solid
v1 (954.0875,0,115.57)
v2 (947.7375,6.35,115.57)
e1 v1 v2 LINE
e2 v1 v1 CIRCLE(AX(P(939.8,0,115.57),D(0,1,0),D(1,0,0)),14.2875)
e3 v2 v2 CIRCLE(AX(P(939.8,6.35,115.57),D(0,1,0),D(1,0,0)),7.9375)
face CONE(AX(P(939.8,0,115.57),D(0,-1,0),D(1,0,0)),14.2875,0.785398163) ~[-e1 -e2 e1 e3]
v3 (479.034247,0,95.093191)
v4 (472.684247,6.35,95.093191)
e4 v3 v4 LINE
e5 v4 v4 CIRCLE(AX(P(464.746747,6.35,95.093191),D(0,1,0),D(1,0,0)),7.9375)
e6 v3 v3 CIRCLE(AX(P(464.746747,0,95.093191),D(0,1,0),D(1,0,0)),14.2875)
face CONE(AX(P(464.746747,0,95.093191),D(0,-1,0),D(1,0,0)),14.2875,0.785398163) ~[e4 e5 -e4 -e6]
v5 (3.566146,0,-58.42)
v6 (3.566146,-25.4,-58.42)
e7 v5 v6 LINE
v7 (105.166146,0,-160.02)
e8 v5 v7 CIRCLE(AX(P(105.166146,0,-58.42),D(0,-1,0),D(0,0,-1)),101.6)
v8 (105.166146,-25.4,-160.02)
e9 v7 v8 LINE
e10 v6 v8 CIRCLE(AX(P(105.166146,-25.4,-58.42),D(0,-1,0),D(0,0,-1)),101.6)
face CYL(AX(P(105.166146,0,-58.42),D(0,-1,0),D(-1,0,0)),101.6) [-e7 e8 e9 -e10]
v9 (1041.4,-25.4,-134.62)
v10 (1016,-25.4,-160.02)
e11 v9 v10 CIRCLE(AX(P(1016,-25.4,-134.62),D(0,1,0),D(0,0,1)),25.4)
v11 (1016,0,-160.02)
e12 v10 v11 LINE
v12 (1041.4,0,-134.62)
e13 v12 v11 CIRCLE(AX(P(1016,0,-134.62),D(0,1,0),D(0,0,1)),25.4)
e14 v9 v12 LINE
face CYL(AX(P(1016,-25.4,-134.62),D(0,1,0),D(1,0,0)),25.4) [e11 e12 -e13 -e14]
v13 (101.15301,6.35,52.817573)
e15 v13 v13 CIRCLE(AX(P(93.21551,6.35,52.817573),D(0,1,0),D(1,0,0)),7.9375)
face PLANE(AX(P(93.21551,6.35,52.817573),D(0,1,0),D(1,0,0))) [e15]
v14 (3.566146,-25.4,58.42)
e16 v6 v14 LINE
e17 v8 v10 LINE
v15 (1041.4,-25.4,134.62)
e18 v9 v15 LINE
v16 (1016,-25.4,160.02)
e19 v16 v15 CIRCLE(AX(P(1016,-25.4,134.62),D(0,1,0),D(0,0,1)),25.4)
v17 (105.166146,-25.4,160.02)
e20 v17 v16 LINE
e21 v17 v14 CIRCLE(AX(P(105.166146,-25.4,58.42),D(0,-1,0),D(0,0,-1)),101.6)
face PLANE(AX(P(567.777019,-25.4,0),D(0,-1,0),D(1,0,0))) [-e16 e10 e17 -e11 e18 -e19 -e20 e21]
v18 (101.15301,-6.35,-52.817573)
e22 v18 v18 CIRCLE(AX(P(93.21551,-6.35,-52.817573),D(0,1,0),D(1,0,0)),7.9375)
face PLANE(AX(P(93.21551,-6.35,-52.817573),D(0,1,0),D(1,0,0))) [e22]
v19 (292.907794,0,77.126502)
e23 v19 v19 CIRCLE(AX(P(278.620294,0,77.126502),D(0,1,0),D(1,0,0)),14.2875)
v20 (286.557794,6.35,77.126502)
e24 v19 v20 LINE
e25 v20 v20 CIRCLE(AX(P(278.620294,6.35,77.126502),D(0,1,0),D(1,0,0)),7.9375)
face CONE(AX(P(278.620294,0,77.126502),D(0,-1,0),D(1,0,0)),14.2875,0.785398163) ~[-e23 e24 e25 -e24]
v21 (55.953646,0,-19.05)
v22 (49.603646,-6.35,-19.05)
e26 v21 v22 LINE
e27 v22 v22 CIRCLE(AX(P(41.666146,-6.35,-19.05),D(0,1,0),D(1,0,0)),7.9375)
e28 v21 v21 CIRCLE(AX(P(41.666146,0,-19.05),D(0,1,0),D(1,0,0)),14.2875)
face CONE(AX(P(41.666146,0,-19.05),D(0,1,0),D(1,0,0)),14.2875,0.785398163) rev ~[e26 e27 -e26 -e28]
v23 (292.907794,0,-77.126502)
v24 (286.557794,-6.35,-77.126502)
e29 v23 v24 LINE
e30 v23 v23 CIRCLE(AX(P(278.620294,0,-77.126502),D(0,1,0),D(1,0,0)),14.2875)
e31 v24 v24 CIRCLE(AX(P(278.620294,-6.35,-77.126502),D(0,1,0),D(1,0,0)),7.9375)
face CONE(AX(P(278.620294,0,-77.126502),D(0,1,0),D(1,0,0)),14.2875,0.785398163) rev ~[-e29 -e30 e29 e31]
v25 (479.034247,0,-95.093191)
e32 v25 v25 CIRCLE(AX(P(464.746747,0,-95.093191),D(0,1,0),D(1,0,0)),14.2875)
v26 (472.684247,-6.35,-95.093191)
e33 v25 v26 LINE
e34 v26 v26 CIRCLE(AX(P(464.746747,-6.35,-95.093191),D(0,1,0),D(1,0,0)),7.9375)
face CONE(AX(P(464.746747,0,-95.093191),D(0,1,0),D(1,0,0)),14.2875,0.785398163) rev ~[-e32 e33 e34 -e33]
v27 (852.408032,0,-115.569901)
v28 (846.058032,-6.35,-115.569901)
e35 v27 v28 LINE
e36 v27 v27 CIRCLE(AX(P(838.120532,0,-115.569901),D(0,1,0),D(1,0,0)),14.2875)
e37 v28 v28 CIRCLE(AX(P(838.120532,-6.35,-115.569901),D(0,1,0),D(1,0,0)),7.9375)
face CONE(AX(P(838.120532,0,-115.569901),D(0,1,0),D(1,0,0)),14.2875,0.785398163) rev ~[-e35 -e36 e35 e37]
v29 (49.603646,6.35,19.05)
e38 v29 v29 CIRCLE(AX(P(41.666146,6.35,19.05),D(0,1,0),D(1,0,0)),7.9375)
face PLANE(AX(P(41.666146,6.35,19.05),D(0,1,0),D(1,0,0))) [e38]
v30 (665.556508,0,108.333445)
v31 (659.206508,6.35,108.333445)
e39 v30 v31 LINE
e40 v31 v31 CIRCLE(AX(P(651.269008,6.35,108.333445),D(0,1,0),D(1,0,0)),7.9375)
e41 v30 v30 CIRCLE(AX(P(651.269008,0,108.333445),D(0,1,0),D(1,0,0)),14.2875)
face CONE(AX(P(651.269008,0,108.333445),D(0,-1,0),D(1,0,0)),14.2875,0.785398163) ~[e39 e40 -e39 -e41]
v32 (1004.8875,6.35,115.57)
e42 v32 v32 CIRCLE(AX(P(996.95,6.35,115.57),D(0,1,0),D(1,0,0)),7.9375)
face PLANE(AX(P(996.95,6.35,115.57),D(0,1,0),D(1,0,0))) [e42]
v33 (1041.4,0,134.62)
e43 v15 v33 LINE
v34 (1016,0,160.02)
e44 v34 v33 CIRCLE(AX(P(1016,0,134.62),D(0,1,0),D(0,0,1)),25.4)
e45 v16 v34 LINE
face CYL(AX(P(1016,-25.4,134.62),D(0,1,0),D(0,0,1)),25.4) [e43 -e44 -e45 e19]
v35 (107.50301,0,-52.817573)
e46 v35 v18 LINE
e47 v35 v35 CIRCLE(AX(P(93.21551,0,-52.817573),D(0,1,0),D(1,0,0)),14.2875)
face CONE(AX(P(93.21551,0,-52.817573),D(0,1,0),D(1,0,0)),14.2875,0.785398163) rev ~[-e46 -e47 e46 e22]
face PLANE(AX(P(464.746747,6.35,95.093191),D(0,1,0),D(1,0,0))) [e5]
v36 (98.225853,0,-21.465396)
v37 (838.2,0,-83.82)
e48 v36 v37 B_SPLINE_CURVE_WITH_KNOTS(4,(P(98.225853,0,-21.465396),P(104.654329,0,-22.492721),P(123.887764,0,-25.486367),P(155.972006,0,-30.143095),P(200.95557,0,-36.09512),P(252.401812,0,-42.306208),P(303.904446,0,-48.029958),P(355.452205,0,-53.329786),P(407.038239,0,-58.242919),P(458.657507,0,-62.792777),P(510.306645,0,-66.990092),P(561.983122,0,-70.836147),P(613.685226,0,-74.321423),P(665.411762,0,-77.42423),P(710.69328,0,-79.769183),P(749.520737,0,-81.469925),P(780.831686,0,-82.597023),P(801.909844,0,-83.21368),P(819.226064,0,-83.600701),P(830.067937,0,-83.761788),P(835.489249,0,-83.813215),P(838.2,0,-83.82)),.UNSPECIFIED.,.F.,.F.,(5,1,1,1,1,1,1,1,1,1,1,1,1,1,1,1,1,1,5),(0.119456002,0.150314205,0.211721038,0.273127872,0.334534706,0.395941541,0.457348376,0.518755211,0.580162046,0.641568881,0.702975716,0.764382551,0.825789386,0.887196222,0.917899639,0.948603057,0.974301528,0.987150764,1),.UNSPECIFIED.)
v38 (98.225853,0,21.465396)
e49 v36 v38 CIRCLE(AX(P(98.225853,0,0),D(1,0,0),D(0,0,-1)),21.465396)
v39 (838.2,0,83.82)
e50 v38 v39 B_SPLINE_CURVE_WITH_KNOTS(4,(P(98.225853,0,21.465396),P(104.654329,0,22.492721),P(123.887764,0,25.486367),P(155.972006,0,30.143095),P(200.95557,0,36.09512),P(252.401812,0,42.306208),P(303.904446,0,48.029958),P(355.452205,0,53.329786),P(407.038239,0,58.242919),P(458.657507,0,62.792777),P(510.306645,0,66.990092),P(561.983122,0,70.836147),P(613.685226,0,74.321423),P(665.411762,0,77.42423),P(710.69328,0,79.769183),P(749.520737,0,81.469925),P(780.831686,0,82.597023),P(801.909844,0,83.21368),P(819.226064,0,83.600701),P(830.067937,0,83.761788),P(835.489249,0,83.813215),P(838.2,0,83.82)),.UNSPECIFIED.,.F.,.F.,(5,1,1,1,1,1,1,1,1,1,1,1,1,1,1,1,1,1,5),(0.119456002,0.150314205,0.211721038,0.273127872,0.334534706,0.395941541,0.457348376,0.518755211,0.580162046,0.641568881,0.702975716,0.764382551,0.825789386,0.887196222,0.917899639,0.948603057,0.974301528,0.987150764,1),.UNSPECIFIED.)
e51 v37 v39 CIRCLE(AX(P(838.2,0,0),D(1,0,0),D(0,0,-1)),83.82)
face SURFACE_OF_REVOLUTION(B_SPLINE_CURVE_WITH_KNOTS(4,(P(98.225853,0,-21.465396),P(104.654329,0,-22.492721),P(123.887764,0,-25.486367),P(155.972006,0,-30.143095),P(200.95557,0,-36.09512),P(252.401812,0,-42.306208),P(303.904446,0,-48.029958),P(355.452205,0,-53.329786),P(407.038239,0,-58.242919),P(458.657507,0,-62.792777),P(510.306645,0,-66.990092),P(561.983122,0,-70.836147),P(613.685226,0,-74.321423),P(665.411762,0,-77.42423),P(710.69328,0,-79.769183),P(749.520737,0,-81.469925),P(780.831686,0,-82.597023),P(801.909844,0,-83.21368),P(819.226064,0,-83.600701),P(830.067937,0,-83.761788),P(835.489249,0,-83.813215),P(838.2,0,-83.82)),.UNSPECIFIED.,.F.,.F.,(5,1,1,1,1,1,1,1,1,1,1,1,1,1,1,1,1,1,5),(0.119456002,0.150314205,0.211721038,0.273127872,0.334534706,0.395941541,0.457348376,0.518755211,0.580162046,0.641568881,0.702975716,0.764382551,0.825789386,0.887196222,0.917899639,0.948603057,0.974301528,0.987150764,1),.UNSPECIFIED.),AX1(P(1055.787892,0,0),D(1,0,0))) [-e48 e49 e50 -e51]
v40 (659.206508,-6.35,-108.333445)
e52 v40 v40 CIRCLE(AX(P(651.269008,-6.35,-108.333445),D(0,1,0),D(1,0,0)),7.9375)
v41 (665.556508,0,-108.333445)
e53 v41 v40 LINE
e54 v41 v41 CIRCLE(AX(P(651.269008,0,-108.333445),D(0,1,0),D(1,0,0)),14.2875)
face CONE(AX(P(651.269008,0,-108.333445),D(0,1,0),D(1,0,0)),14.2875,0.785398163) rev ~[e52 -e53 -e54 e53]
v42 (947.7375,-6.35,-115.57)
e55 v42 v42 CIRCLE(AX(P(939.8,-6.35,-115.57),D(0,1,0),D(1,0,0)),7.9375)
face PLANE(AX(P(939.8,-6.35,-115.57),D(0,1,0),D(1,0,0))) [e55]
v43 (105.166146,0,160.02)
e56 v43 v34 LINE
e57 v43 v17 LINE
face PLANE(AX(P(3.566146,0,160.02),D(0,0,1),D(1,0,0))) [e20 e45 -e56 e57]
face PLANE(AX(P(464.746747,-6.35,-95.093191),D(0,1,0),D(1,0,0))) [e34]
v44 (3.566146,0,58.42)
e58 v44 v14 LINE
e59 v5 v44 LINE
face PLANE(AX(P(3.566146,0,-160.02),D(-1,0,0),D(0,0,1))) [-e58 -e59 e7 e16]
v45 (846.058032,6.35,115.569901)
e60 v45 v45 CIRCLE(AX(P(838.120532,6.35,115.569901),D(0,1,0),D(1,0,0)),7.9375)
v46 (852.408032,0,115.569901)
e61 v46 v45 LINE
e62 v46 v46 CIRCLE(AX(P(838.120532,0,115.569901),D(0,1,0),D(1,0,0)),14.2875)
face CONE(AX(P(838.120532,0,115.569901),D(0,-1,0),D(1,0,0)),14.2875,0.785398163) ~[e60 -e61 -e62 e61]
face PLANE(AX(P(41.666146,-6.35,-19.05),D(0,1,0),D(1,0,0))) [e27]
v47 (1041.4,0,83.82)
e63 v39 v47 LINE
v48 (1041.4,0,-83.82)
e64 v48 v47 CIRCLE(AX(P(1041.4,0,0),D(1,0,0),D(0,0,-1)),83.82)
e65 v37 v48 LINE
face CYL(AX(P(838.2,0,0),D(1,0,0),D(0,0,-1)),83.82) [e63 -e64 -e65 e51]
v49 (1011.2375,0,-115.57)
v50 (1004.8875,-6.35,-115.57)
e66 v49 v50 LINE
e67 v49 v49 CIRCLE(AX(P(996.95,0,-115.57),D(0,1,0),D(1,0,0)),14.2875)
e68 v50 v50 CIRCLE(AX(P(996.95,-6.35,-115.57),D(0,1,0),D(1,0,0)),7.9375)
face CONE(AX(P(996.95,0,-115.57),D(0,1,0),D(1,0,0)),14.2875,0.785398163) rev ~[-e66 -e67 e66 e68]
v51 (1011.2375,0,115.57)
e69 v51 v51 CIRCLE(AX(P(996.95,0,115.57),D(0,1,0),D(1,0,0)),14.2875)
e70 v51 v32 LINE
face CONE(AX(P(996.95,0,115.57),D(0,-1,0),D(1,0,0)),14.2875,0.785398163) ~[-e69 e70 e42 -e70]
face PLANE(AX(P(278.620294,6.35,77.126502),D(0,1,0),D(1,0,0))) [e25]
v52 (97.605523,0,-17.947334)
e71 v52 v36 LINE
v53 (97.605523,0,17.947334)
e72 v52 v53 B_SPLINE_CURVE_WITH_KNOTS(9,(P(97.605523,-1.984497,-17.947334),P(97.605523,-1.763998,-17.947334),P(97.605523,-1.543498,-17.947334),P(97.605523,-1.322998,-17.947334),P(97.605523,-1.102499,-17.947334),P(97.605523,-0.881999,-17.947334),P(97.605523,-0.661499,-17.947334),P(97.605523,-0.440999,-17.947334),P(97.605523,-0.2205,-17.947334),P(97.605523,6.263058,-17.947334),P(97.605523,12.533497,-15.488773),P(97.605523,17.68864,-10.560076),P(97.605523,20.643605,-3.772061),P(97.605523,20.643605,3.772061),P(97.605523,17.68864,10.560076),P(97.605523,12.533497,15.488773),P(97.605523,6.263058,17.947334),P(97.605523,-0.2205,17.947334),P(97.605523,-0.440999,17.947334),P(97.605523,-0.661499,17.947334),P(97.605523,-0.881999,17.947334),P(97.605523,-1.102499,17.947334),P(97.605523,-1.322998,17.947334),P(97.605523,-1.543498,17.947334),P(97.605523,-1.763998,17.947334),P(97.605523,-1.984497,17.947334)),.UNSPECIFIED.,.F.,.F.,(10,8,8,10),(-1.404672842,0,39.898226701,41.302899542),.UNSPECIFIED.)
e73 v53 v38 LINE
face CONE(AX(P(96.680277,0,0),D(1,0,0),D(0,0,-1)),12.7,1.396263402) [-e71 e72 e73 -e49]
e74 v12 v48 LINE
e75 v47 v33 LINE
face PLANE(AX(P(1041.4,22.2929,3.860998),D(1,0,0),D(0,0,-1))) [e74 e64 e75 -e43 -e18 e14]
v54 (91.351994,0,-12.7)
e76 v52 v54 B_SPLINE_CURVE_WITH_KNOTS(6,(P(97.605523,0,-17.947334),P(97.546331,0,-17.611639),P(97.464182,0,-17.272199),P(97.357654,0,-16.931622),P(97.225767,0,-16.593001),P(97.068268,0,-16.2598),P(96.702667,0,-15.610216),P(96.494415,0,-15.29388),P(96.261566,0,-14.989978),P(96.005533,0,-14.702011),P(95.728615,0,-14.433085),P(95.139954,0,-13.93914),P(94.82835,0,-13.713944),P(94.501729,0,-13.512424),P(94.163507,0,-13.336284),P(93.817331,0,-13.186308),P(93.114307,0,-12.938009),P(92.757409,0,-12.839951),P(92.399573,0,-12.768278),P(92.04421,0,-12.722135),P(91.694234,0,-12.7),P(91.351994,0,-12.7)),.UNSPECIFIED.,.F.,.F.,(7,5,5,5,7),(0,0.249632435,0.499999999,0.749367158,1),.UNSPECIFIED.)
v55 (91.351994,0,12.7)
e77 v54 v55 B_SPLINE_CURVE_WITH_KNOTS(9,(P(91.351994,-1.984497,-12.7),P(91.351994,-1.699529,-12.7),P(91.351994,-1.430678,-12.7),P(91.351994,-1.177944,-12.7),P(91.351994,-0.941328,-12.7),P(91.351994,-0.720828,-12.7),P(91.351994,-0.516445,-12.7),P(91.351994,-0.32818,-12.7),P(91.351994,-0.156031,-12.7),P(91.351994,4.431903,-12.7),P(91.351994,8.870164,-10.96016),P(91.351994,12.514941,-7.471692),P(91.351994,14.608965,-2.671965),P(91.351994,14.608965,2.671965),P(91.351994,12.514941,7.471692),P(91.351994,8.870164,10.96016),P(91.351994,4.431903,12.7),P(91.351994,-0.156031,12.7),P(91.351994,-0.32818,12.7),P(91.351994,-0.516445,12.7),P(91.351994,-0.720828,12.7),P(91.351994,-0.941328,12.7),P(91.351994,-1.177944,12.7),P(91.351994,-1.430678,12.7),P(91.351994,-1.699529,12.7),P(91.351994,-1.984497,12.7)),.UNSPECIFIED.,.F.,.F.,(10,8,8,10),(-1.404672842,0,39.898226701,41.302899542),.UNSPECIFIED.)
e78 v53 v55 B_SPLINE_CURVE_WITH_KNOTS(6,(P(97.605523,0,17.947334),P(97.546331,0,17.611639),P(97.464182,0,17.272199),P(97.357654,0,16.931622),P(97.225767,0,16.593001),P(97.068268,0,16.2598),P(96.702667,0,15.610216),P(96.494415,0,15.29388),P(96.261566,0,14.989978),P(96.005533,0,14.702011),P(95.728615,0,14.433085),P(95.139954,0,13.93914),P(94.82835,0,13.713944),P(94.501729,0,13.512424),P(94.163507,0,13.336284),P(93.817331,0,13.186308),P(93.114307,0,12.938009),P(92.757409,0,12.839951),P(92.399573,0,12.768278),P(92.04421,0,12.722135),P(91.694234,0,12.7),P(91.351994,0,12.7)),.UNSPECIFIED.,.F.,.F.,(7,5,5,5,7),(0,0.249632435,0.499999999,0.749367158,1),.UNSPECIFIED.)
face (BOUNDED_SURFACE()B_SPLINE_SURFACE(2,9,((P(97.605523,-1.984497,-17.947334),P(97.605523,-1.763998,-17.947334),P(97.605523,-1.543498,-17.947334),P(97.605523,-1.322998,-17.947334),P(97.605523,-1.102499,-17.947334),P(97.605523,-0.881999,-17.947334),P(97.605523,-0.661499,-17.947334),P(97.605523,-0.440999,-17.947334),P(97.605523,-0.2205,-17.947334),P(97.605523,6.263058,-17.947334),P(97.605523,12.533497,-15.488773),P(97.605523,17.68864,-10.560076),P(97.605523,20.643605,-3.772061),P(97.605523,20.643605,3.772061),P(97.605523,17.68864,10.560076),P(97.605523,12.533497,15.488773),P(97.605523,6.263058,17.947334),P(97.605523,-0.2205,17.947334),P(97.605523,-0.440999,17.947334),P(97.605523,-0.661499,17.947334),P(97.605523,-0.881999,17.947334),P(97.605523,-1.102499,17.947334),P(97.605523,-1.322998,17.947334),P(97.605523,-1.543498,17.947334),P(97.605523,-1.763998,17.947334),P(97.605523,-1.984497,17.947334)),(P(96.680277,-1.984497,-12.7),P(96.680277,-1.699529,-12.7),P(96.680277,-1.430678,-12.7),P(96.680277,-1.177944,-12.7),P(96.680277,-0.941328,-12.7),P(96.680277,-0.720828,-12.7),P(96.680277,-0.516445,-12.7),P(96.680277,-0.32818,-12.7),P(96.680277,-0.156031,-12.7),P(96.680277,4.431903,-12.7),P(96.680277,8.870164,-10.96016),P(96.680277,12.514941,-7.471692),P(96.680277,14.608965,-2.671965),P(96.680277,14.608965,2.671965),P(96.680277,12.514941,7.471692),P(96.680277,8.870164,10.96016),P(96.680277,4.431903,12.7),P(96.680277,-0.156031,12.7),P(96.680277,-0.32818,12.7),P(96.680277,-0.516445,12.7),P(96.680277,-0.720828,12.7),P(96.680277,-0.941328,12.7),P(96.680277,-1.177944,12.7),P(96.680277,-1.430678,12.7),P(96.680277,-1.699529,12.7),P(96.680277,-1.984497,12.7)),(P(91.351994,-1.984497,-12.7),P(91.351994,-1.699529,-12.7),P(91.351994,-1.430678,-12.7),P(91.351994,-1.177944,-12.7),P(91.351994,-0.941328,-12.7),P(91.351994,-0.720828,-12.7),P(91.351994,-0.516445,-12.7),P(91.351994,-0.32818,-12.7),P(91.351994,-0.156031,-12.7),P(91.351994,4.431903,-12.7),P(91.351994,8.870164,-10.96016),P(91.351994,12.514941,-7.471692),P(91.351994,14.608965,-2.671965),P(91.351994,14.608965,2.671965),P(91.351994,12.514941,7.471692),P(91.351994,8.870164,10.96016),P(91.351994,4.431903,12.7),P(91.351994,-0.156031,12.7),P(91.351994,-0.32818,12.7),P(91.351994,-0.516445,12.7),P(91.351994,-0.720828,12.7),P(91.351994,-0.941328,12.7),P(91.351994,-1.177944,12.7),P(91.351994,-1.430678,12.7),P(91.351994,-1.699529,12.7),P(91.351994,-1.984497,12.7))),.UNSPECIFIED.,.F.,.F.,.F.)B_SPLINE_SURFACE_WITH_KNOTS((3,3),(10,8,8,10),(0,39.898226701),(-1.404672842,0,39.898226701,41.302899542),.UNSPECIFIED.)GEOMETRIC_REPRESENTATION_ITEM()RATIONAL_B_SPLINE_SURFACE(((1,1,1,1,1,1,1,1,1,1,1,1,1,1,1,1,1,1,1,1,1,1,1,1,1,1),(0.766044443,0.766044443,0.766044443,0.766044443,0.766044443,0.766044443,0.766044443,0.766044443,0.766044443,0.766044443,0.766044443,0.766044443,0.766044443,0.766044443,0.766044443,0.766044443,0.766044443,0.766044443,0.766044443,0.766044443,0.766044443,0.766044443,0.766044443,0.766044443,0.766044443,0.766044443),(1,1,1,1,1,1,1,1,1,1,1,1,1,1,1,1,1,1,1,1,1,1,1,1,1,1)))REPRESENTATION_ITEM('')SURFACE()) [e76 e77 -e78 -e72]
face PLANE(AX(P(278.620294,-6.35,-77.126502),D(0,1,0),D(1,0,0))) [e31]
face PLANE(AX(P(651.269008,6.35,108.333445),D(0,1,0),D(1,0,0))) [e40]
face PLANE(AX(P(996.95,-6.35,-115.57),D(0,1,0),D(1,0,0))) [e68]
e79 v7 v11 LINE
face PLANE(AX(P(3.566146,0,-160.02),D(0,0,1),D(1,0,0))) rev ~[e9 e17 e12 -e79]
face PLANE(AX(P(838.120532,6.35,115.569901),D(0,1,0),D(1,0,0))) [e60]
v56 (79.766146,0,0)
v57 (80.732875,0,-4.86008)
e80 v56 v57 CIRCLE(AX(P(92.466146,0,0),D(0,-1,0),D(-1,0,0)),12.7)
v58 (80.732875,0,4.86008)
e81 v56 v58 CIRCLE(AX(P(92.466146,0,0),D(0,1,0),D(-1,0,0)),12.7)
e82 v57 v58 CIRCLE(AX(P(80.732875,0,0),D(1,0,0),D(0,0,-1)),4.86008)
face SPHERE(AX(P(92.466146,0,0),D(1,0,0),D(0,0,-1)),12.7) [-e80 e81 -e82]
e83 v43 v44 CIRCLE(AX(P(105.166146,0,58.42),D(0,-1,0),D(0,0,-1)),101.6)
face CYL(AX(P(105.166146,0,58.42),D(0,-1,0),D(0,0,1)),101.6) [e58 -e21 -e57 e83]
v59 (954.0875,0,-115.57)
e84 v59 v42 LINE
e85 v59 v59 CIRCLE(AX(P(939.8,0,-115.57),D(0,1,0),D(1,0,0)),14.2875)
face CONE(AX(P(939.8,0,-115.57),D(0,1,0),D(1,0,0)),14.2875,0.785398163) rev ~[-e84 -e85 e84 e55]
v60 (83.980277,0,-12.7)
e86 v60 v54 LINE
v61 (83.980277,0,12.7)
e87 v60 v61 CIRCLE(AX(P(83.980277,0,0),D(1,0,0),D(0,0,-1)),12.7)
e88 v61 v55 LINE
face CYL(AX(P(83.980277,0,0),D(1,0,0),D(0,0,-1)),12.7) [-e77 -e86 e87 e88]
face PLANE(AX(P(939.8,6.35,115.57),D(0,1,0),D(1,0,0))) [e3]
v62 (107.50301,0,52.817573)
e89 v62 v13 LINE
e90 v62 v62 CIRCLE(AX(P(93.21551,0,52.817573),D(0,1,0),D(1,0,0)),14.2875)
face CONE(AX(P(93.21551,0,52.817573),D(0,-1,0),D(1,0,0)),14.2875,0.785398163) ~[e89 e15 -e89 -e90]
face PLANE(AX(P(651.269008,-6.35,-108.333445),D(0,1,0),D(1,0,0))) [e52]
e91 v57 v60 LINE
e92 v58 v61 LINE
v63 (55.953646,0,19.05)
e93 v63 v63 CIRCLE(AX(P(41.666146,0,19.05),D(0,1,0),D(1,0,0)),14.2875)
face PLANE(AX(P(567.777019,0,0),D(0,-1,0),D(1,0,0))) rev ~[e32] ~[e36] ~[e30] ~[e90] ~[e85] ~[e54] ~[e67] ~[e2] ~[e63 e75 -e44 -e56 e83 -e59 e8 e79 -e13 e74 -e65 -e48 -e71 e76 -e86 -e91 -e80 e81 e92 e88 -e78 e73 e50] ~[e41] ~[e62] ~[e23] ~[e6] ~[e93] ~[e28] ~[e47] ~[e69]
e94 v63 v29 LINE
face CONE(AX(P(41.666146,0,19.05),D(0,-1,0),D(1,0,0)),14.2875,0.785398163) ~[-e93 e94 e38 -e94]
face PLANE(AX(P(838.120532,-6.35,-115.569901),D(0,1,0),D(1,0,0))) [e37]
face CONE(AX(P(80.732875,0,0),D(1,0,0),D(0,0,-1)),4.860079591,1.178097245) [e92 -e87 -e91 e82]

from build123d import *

# Parameters (mm, degrees)
MAIN_BODY_ANGLE               = 180
SKETCH2_W                     = 1128.421746079
SKETCH2_H                     = 320.04
BOSS_EXTRUDE1_DEPTH           = 25.4
FILLET1_R                     = 6.35
SKETCH3_R                     = 14.2875
BOSS_EXTRUDE2_DEPTH           = 6.35
BOSS_EXTRUDE2_DRAFT           = 45
BOSS_EXTRUDE2_PROFILE_2_DEPTH = 6.35
BOSS_EXTRUDE2_PROFILE_2_DRAFT = 45
BOSS_EXTRUDE2_PROFILE_3_DEPTH = 6.35
BOSS_EXTRUDE2_PROFILE_3_DRAFT = 45
BOSS_EXTRUDE2_PROFILE_4_DEPTH = 6.35
BOSS_EXTRUDE2_PROFILE_4_DRAFT = 45
BOSS_EXTRUDE2_PROFILE_5_DEPTH = 6.35
BOSS_EXTRUDE2_PROFILE_5_DRAFT = 45
BOSS_EXTRUDE2_PROFILE_6_DEPTH = 6.35
BOSS_EXTRUDE2_PROFILE_6_DRAFT = 45
BOSS_EXTRUDE2_PROFILE_7_DEPTH = 6.35
BOSS_EXTRUDE2_PROFILE_7_DRAFT = 45
BOSS_EXTRUDE2_PROFILE_8_DEPTH = 6.35
BOSS_EXTRUDE2_PROFILE_8_DRAFT = 45
BOSS_EXTRUDE2_PROFILE_9_DEPTH = 6.35
BOSS_EXTRUDE2_PROFILE_9_DRAFT = 45
SKETCH4_R                     = 14.2875
CUT_EXTRUDE1_DEPTH            = 6.35
CUT_EXTRUDE1_DRAFT            = -45
CUT_EXTRUDE1_PROFILE_2_DEPTH  = 6.35
CUT_EXTRUDE1_PROFILE_2_DRAFT  = -45
CUT_EXTRUDE1_PROFILE_3_DEPTH  = 6.35
CUT_EXTRUDE1_PROFILE_3_DRAFT  = -45
CUT_EXTRUDE1_PROFILE_4_DEPTH  = 6.35
CUT_EXTRUDE1_PROFILE_4_DRAFT  = -45
CUT_EXTRUDE1_PROFILE_5_DEPTH  = 6.35
CUT_EXTRUDE1_PROFILE_5_DRAFT  = -45
CUT_EXTRUDE1_PROFILE_6_DEPTH  = 6.35
CUT_EXTRUDE1_PROFILE_6_DRAFT  = -45
CUT_EXTRUDE1_PROFILE_7_DEPTH  = 6.35
CUT_EXTRUDE1_PROFILE_7_DRAFT  = -45
CUT_EXTRUDE1_PROFILE_8_DEPTH  = 6.35
CUT_EXTRUDE1_PROFILE_8_DRAFT  = -45
CUT_EXTRUDE1_PROFILE_9_DEPTH  = 6.35
CUT_EXTRUDE1_PROFILE_9_DRAFT  = -45
SKETCH5_W                     = 463.80049478
SKETCH5_H                     = 192.61122876
CUT_EXTRUDE2_DEPTH            = 90.587892
FILLET2_R                     = 25.4
FILLET3_R                     = 101.6


with BuildPart() as part:
    # Sketch1 → main body (revolve)
    with BuildSketch(Plane(origin=(0, 0, 0), x_dir=(1, 0, 0), z_dir=(0, 1, 0))):
        with BuildLine():
            Line((838.2, 83.82), (1041.4, 83.82))
            Line((1041.4, 83.82), (1055.402008508, 4.410663713))
            ThreePointArc((1055.402008508, 4.410663713), (1055.691236913, 2.213755866), (1055.787891581, 0))
            Line((1055.787891581, 0), (79.766145502, 0))
            ThreePointArc((79.766145502, 0), (80.010172441, 2.47764709), (80.732875439, 4.860079591))
            Line((80.732875439, 4.860079591), (83.9802768, 12.7))
            Line((83.9802768, 12.7), (96.6802768, 12.7))
            Line((96.6802768, 12.7), (98.225852671, 21.465396338))
            add(Edge.make_bspline(
                [(98.225852671, 21.465396338), (104.654328606, 22.492721153), (123.887764391, 25.486366873), (155.972005609, 30.143094939), (200.955569884, 36.09512031), (252.401811828, 42.306208001), (303.904445896, 48.029958479), (355.452205043, 53.329785664), (407.038239325, 58.242919226), (458.657507181, 62.792777027), (510.306645018, 66.990091608), (561.983121891, 70.836146847), (613.685225833, 74.321423415), (665.41176163, 77.424229696), (710.69328025, 79.769183333), (749.520737416, 81.469924508), (780.831685961, 82.59702331), (801.909844263, 83.213680173), (819.226063658, 83.60070134), (830.067937057, 83.761787884), (835.489248896, 83.813215153), (838.2, 83.82)],
                knots=[0.119456002, 0.119456002, 0.119456002, 0.119456002, 0.119456002, 0.150314205, 0.211721038, 0.273127872, 0.334534706, 0.395941541, 0.457348376, 0.518755211, 0.580162046, 0.641568881, 0.702975716, 0.764382551, 0.825789386, 0.887196222, 0.917899639, 0.948603057, 0.974301528, 0.987150764, 1, 1, 1, 1, 1], degree=4))
        make_face()
    revolve(axis=Axis((1055.787891581, 0, 0), (1, 0, 0)), revolution_arc=MAIN_BODY_ANGLE)

    # Sketch2 → Boss-Extrude1 (add)
    with BuildSketch(Plane.XZ):
        with Locations((567.777018541, 0)):
            Rectangle(SKETCH2_W, SKETCH2_H)
    extrude(amount=BOSS_EXTRUDE1_DEPTH)

    # Fillet1
    fillet1_edges = [part.edges().sort_by_distance(p)[0] for p in [
        (96.6802768, 12.7, 0),
    ]]
    fillet(fillet1_edges, radius=FILLET1_R)


with BuildPart() as boss_extrude2_tool:
    # Sketch3 → Boss-Extrude2 (with draft: the straight prism first)
    with BuildSketch(Plane(origin=(0, 0, 0), x_dir=(1, 0, 0), z_dir=(0, 1, 0))):
        with Locations((996.95, -115.57)):
            Circle(SKETCH3_R)
    extrude(amount=BOSS_EXTRUDE2_DEPTH)
    # Boss-Extrude2: the draft: its side faces are tilted about the plane it starts from
    boss_extrude2_sides = [boss_extrude2_tool.faces().sort_by_distance(p)[0] for p in [
        (982.6625, 3.175, 115.57),
    ]]
    draft(boss_extrude2_sides, Plane(origin=(0, 0, 0), x_dir=(1, 0, 0), z_dir=(0, 1, 0)), BOSS_EXTRUDE2_DRAFT)


with BuildPart() as part_1:
    add(part.part)

    # Boss-Extrude2: add boss_extrude2_tool
    add(boss_extrude2_tool.part)


with BuildPart() as boss_extrude2_profile_2_tool:
    # Sketch3 → Boss-Extrude2 profile 2 (with draft: the straight prism first)
    with BuildSketch(Plane(origin=(0, 0, 0), x_dir=(1, 0, 0), z_dir=(0, 1, 0))):
        with Locations((838.120531907, -115.569900548)):
            Circle(SKETCH3_R)
    extrude(amount=BOSS_EXTRUDE2_PROFILE_2_DEPTH)
    # Boss-Extrude2 profile 2: the draft: its side faces are tilted about the plane it starts from
    boss_extrude2_profile_2_sides = [boss_extrude2_profile_2_tool.faces().sort_by_distance(p)[0] for p in [
        (823.833031907, 3.175, 115.569900548),
    ]]
    draft(boss_extrude2_profile_2_sides, Plane(origin=(0, 0, 0), x_dir=(1, 0, 0), z_dir=(0, 1, 0)), BOSS_EXTRUDE2_PROFILE_2_DRAFT)


with BuildPart() as part_2:
    add(part_1.part)

    # Boss-Extrude2 profile 2: add boss_extrude2_profile_2_tool
    add(boss_extrude2_profile_2_tool.part)


with BuildPart() as boss_extrude2_profile_3_tool:
    # Sketch3 → Boss-Extrude2 profile 3 (with draft: the straight prism first)
    with BuildSketch(Plane(origin=(0, 0, 0), x_dir=(1, 0, 0), z_dir=(0, 1, 0))):
        with Locations((93.215509762, -52.81757272)):
            Circle(SKETCH3_R)
    extrude(amount=BOSS_EXTRUDE2_PROFILE_3_DEPTH)
    # Boss-Extrude2 profile 3: the draft: its side faces are tilted about the plane it starts from
    boss_extrude2_profile_3_sides = [boss_extrude2_profile_3_tool.faces().sort_by_distance(p)[0] for p in [
        (78.928009762, 3.175, 52.81757272),
    ]]
    draft(boss_extrude2_profile_3_sides, Plane(origin=(0, 0, 0), x_dir=(1, 0, 0), z_dir=(0, 1, 0)), BOSS_EXTRUDE2_PROFILE_3_DRAFT)


with BuildPart() as part_3:
    add(part_2.part)

    # Boss-Extrude2 profile 3: add boss_extrude2_profile_3_tool
    add(boss_extrude2_profile_3_tool.part)


with BuildPart() as boss_extrude2_profile_4_tool:
    # Sketch3 → Boss-Extrude2 profile 4 (with draft: the straight prism first)
    with BuildSketch(Plane(origin=(0, 0, 0), x_dir=(1, 0, 0), z_dir=(0, 1, 0))):
        with Locations((464.746746914, -95.093191467)):
            Circle(SKETCH3_R)
    extrude(amount=BOSS_EXTRUDE2_PROFILE_4_DEPTH)
    # Boss-Extrude2 profile 4: the draft: its side faces are tilted about the plane it starts from
    boss_extrude2_profile_4_sides = [boss_extrude2_profile_4_tool.faces().sort_by_distance(p)[0] for p in [
        (450.459246914, 3.175, 95.093191467),
    ]]
    draft(boss_extrude2_profile_4_sides, Plane(origin=(0, 0, 0), x_dir=(1, 0, 0), z_dir=(0, 1, 0)), BOSS_EXTRUDE2_PROFILE_4_DRAFT)


with BuildPart() as part_4:
    add(part_3.part)

    # Boss-Extrude2 profile 4: add boss_extrude2_profile_4_tool
    add(boss_extrude2_profile_4_tool.part)


with BuildPart() as boss_extrude2_profile_5_tool:
    # Sketch3 → Boss-Extrude2 profile 5 (with draft: the straight prism first)
    with BuildSketch(Plane(origin=(0, 0, 0), x_dir=(1, 0, 0), z_dir=(0, 1, 0))):
        with Locations((278.620294473, -77.126501911)):
            Circle(SKETCH3_R)
    extrude(amount=BOSS_EXTRUDE2_PROFILE_5_DEPTH)
    # Boss-Extrude2 profile 5: the draft: its side faces are tilted about the plane it starts from
    boss_extrude2_profile_5_sides = [boss_extrude2_profile_5_tool.faces().sort_by_distance(p)[0] for p in [
        (264.332794473, 3.175, 77.126501911),
    ]]
    draft(boss_extrude2_profile_5_sides, Plane(origin=(0, 0, 0), x_dir=(1, 0, 0), z_dir=(0, 1, 0)), BOSS_EXTRUDE2_PROFILE_5_DRAFT)


with BuildPart() as part_5:
    add(part_4.part)

    # Boss-Extrude2 profile 5: add boss_extrude2_profile_5_tool
    add(boss_extrude2_profile_5_tool.part)


with BuildPart() as boss_extrude2_profile_6_tool:
    # Sketch3 → Boss-Extrude2 profile 6 (with draft: the straight prism first)
    with BuildSketch(Plane(origin=(0, 0, 0), x_dir=(1, 0, 0), z_dir=(0, 1, 0))):
        with Locations((651.269008133, -108.333444552)):
            Circle(SKETCH3_R)
    extrude(amount=BOSS_EXTRUDE2_PROFILE_6_DEPTH)
    # Boss-Extrude2 profile 6: the draft: its side faces are tilted about the plane it starts from
    boss_extrude2_profile_6_sides = [boss_extrude2_profile_6_tool.faces().sort_by_distance(p)[0] for p in [
        (636.981508133, 3.175, 108.333444552),
    ]]
    draft(boss_extrude2_profile_6_sides, Plane(origin=(0, 0, 0), x_dir=(1, 0, 0), z_dir=(0, 1, 0)), BOSS_EXTRUDE2_PROFILE_6_DRAFT)


with BuildPart() as part_6:
    add(part_5.part)

    # Boss-Extrude2 profile 6: add boss_extrude2_profile_6_tool
    add(boss_extrude2_profile_6_tool.part)


with BuildPart() as boss_extrude2_profile_7_tool:
    # Sketch3 → Boss-Extrude2 profile 7 (with draft: the straight prism first)
    with BuildSketch(Plane(origin=(0, 0, 0), x_dir=(1, 0, 0), z_dir=(0, 1, 0))):
        with Locations((41.666145502, -19.05)):
            Circle(SKETCH3_R)
    extrude(amount=BOSS_EXTRUDE2_PROFILE_7_DEPTH)
    # Boss-Extrude2 profile 7: the draft: its side faces are tilted about the plane it starts from
    boss_extrude2_profile_7_sides = [boss_extrude2_profile_7_tool.faces().sort_by_distance(p)[0] for p in [
        (27.378645502, 3.175, 19.05),
    ]]
    draft(boss_extrude2_profile_7_sides, Plane(origin=(0, 0, 0), x_dir=(1, 0, 0), z_dir=(0, 1, 0)), BOSS_EXTRUDE2_PROFILE_7_DRAFT)


with BuildPart() as part_7:
    add(part_6.part)

    # Boss-Extrude2 profile 7: add boss_extrude2_profile_7_tool
    add(boss_extrude2_profile_7_tool.part)


with BuildPart() as boss_extrude2_profile_8_tool:
    # Sketch3 → Boss-Extrude2 profile 8 (with draft: the straight prism first)
    with BuildSketch(Plane(origin=(0, 0, 0), x_dir=(1, 0, 0), z_dir=(0, 1, 0))):
        with Locations((1079.668650412, -49.628661497)):
            Circle(SKETCH3_R)
    extrude(amount=BOSS_EXTRUDE2_PROFILE_8_DEPTH)
    # Boss-Extrude2 profile 8: the draft: its side faces are tilted about the plane it starts from
    boss_extrude2_profile_8_sides = [boss_extrude2_profile_8_tool.faces().sort_by_distance(p)[0] for p in [
        (1065.381150412, 3.175, 49.628661497),
    ]]
    draft(boss_extrude2_profile_8_sides, Plane(origin=(0, 0, 0), x_dir=(1, 0, 0), z_dir=(0, 1, 0)), BOSS_EXTRUDE2_PROFILE_8_DRAFT)


with BuildPart() as part_8:
    add(part_7.part)

    # Boss-Extrude2 profile 8: add boss_extrude2_profile_8_tool
    add(boss_extrude2_profile_8_tool.part)


with BuildPart() as boss_extrude2_profile_9_tool:
    # Sketch3 → Boss-Extrude2 profile 9 (with draft: the straight prism first)
    with BuildSketch(Plane(origin=(0, 0, 0), x_dir=(1, 0, 0), z_dir=(0, 1, 0))):
        with Locations((939.8, -115.57)):
            Circle(SKETCH3_R)
    extrude(amount=BOSS_EXTRUDE2_PROFILE_9_DEPTH)
    # Boss-Extrude2 profile 9: the draft: its side faces are tilted about the plane it starts from
    boss_extrude2_profile_9_sides = [boss_extrude2_profile_9_tool.faces().sort_by_distance(p)[0] for p in [
        (925.5125, 3.175, 115.57),
    ]]
    draft(boss_extrude2_profile_9_sides, Plane(origin=(0, 0, 0), x_dir=(1, 0, 0), z_dir=(0, 1, 0)), BOSS_EXTRUDE2_PROFILE_9_DRAFT)


with BuildPart() as part_9:
    add(part_8.part)

    # Boss-Extrude2 profile 9: add boss_extrude2_profile_9_tool
    add(boss_extrude2_profile_9_tool.part)


with BuildPart() as cut_extrude1_tool:
    # Sketch4 → Cut-Extrude1 (with draft: the straight prism first)
    with BuildSketch(Plane(origin=(0, 0, 0), x_dir=(1, 0, 0), z_dir=(0, 1, 0))):
        with Locations((996.95, 115.57)):
            Circle(SKETCH4_R)
    extrude(amount=-CUT_EXTRUDE1_DEPTH)
    # Cut-Extrude1: the draft: its side faces are tilted about the plane it starts from
    cut_extrude1_sides = [cut_extrude1_tool.faces().sort_by_distance(p)[0] for p in [
        (982.6625, -3.175, -115.57),
    ]]
    draft(cut_extrude1_sides, Plane(origin=(0, 0, 0), x_dir=(1, 0, 0), z_dir=(0, 1, 0)), CUT_EXTRUDE1_DRAFT)


with BuildPart() as part_10:
    add(part_9.part)

    # Cut-Extrude1: cut by cut_extrude1_tool
    add(cut_extrude1_tool.part, mode=Mode.SUBTRACT)


with BuildPart() as cut_extrude1_profile_2_tool:
    # Sketch4 → Cut-Extrude1 profile 2 (with draft: the straight prism first)
    with BuildSketch(Plane(origin=(0, 0, 0), x_dir=(1, 0, 0), z_dir=(0, 1, 0))):
        with Locations((838.120531907, 115.569900548)):
            Circle(SKETCH4_R)
    extrude(amount=-CUT_EXTRUDE1_PROFILE_2_DEPTH)
    # Cut-Extrude1 profile 2: the draft: its side faces are tilted about the plane it starts from
    cut_extrude1_profile_2_sides = [cut_extrude1_profile_2_tool.faces().sort_by_distance(p)[0] for p in [
        (823.833031907, -3.175, -115.569900548),
    ]]
    draft(cut_extrude1_profile_2_sides, Plane(origin=(0, 0, 0), x_dir=(1, 0, 0), z_dir=(0, 1, 0)), CUT_EXTRUDE1_PROFILE_2_DRAFT)


with BuildPart() as part_11:
    add(part_10.part)

    # Cut-Extrude1 profile 2: cut by cut_extrude1_profile_2_tool
    add(cut_extrude1_profile_2_tool.part, mode=Mode.SUBTRACT)


with BuildPart() as cut_extrude1_profile_3_tool:
    # Sketch4 → Cut-Extrude1 profile 3 (with draft: the straight prism first)
    with BuildSketch(Plane(origin=(0, 0, 0), x_dir=(1, 0, 0), z_dir=(0, 1, 0))):
        with Locations((93.215509762, 52.81757272)):
            Circle(SKETCH4_R)
    extrude(amount=-CUT_EXTRUDE1_PROFILE_3_DEPTH)
    # Cut-Extrude1 profile 3: the draft: its side faces are tilted about the plane it starts from
    cut_extrude1_profile_3_sides = [cut_extrude1_profile_3_tool.faces().sort_by_distance(p)[0] for p in [
        (78.928009762, -3.175, -52.81757272),
    ]]
    draft(cut_extrude1_profile_3_sides, Plane(origin=(0, 0, 0), x_dir=(1, 0, 0), z_dir=(0, 1, 0)), CUT_EXTRUDE1_PROFILE_3_DRAFT)


with BuildPart() as part_12:
    add(part_11.part)

    # Cut-Extrude1 profile 3: cut by cut_extrude1_profile_3_tool
    add(cut_extrude1_profile_3_tool.part, mode=Mode.SUBTRACT)


with BuildPart() as cut_extrude1_profile_4_tool:
    # Sketch4 → Cut-Extrude1 profile 4 (with draft: the straight prism first)
    with BuildSketch(Plane(origin=(0, 0, 0), x_dir=(1, 0, 0), z_dir=(0, 1, 0))):
        with Locations((464.746746914, 95.093191467)):
            Circle(SKETCH4_R)
    extrude(amount=-CUT_EXTRUDE1_PROFILE_4_DEPTH)
    # Cut-Extrude1 profile 4: the draft: its side faces are tilted about the plane it starts from
    cut_extrude1_profile_4_sides = [cut_extrude1_profile_4_tool.faces().sort_by_distance(p)[0] for p in [
        (450.459246914, -3.175, -95.093191467),
    ]]
    draft(cut_extrude1_profile_4_sides, Plane(origin=(0, 0, 0), x_dir=(1, 0, 0), z_dir=(0, 1, 0)), CUT_EXTRUDE1_PROFILE_4_DRAFT)


with BuildPart() as part_13:
    add(part_12.part)

    # Cut-Extrude1 profile 4: cut by cut_extrude1_profile_4_tool
    add(cut_extrude1_profile_4_tool.part, mode=Mode.SUBTRACT)


with BuildPart() as cut_extrude1_profile_5_tool:
    # Sketch4 → Cut-Extrude1 profile 5 (with draft: the straight prism first)
    with BuildSketch(Plane(origin=(0, 0, 0), x_dir=(1, 0, 0), z_dir=(0, 1, 0))):
        with Locations((278.620294473, 77.126501911)):
            Circle(SKETCH4_R)
    extrude(amount=-CUT_EXTRUDE1_PROFILE_5_DEPTH)
    # Cut-Extrude1 profile 5: the draft: its side faces are tilted about the plane it starts from
    cut_extrude1_profile_5_sides = [cut_extrude1_profile_5_tool.faces().sort_by_distance(p)[0] for p in [
        (264.332794473, -3.175, -77.126501911),
    ]]
    draft(cut_extrude1_profile_5_sides, Plane(origin=(0, 0, 0), x_dir=(1, 0, 0), z_dir=(0, 1, 0)), CUT_EXTRUDE1_PROFILE_5_DRAFT)


with BuildPart() as part_14:
    add(part_13.part)

    # Cut-Extrude1 profile 5: cut by cut_extrude1_profile_5_tool
    add(cut_extrude1_profile_5_tool.part, mode=Mode.SUBTRACT)


with BuildPart() as cut_extrude1_profile_6_tool:
    # Sketch4 → Cut-Extrude1 profile 6 (with draft: the straight prism first)
    with BuildSketch(Plane(origin=(0, 0, 0), x_dir=(1, 0, 0), z_dir=(0, 1, 0))):
        with Locations((651.269008133, 108.333444552)):
            Circle(SKETCH4_R)
    extrude(amount=-CUT_EXTRUDE1_PROFILE_6_DEPTH)
    # Cut-Extrude1 profile 6: the draft: its side faces are tilted about the plane it starts from
    cut_extrude1_profile_6_sides = [cut_extrude1_profile_6_tool.faces().sort_by_distance(p)[0] for p in [
        (636.981508133, -3.175, -108.333444552),
    ]]
    draft(cut_extrude1_profile_6_sides, Plane(origin=(0, 0, 0), x_dir=(1, 0, 0), z_dir=(0, 1, 0)), CUT_EXTRUDE1_PROFILE_6_DRAFT)


with BuildPart() as part_15:
    add(part_14.part)

    # Cut-Extrude1 profile 6: cut by cut_extrude1_profile_6_tool
    add(cut_extrude1_profile_6_tool.part, mode=Mode.SUBTRACT)


with BuildPart() as cut_extrude1_profile_7_tool:
    # Sketch4 → Cut-Extrude1 profile 7 (with draft: the straight prism first)
    with BuildSketch(Plane(origin=(0, 0, 0), x_dir=(1, 0, 0), z_dir=(0, 1, 0))):
        with Locations((41.666145502, 19.05)):
            Circle(SKETCH4_R)
    extrude(amount=-CUT_EXTRUDE1_PROFILE_7_DEPTH)
    # Cut-Extrude1 profile 7: the draft: its side faces are tilted about the plane it starts from
    cut_extrude1_profile_7_sides = [cut_extrude1_profile_7_tool.faces().sort_by_distance(p)[0] for p in [
        (27.378645502, -3.175, -19.05),
    ]]
    draft(cut_extrude1_profile_7_sides, Plane(origin=(0, 0, 0), x_dir=(1, 0, 0), z_dir=(0, 1, 0)), CUT_EXTRUDE1_PROFILE_7_DRAFT)


with BuildPart() as part_16:
    add(part_15.part)

    # Cut-Extrude1 profile 7: cut by cut_extrude1_profile_7_tool
    add(cut_extrude1_profile_7_tool.part, mode=Mode.SUBTRACT)


with BuildPart() as cut_extrude1_profile_8_tool:
    # Sketch4 → Cut-Extrude1 profile 8 (with draft: the straight prism first)
    with BuildSketch(Plane(origin=(0, 0, 0), x_dir=(1, 0, 0), z_dir=(0, 1, 0))):
        with Locations((1079.668650412, 49.628661497)):
            Circle(SKETCH4_R)
    extrude(amount=-CUT_EXTRUDE1_PROFILE_8_DEPTH)
    # Cut-Extrude1 profile 8: the draft: its side faces are tilted about the plane it starts from
    cut_extrude1_profile_8_sides = [cut_extrude1_profile_8_tool.faces().sort_by_distance(p)[0] for p in [
        (1065.381150412, -3.175, -49.628661497),
    ]]
    draft(cut_extrude1_profile_8_sides, Plane(origin=(0, 0, 0), x_dir=(1, 0, 0), z_dir=(0, 1, 0)), CUT_EXTRUDE1_PROFILE_8_DRAFT)


with BuildPart() as part_17:
    add(part_16.part)

    # Cut-Extrude1 profile 8: cut by cut_extrude1_profile_8_tool
    add(cut_extrude1_profile_8_tool.part, mode=Mode.SUBTRACT)


with BuildPart() as cut_extrude1_profile_9_tool:
    # Sketch4 → Cut-Extrude1 profile 9 (with draft: the straight prism first)
    with BuildSketch(Plane(origin=(0, 0, 0), x_dir=(1, 0, 0), z_dir=(0, 1, 0))):
        with Locations((939.8, 115.57)):
            Circle(SKETCH4_R)
    extrude(amount=-CUT_EXTRUDE1_PROFILE_9_DEPTH)
    # Cut-Extrude1 profile 9: the draft: its side faces are tilted about the plane it starts from
    cut_extrude1_profile_9_sides = [cut_extrude1_profile_9_tool.faces().sort_by_distance(p)[0] for p in [
        (925.5125, -3.175, -115.57),
    ]]
    draft(cut_extrude1_profile_9_sides, Plane(origin=(0, 0, 0), x_dir=(1, 0, 0), z_dir=(0, 1, 0)), CUT_EXTRUDE1_PROFILE_9_DRAFT)


with BuildPart() as part_18:
    add(part_17.part)

    # Cut-Extrude1 profile 9: cut by cut_extrude1_profile_9_tool
    add(cut_extrude1_profile_9_tool.part, mode=Mode.SUBTRACT)

    # Sketch5 → Cut-Extrude2 (cut)
    with BuildSketch(Plane(origin=(1131.987891581, 0, 0), x_dir=(0, 0, -1), z_dir=(1, 0, 0))):
        with Locations((-3.860998016, 22.292900365)):
            Rectangle(SKETCH5_W, SKETCH5_H)
    extrude(amount=-CUT_EXTRUDE2_DEPTH, mode=Mode.SUBTRACT)

    # Fillet2
    fillet2_edges = [part_18.edges().sort_by_distance(p)[0] for p in [
        (1041.399999581, -12.7, -160.02),
        (1041.399999581, -12.7, 160.02),
    ]]
    fillet(fillet2_edges, radius=FILLET2_R)

    # Fillet3
    fillet3_edges = [part_18.edges().sort_by_distance(p)[0] for p in [
        (3.566145502, -12.7, 160.02),
        (3.566145502, -12.7, -160.02),
    ]]
    fillet(fillet3_edges, radius=FILLET3_R)


solid = part_18.part
